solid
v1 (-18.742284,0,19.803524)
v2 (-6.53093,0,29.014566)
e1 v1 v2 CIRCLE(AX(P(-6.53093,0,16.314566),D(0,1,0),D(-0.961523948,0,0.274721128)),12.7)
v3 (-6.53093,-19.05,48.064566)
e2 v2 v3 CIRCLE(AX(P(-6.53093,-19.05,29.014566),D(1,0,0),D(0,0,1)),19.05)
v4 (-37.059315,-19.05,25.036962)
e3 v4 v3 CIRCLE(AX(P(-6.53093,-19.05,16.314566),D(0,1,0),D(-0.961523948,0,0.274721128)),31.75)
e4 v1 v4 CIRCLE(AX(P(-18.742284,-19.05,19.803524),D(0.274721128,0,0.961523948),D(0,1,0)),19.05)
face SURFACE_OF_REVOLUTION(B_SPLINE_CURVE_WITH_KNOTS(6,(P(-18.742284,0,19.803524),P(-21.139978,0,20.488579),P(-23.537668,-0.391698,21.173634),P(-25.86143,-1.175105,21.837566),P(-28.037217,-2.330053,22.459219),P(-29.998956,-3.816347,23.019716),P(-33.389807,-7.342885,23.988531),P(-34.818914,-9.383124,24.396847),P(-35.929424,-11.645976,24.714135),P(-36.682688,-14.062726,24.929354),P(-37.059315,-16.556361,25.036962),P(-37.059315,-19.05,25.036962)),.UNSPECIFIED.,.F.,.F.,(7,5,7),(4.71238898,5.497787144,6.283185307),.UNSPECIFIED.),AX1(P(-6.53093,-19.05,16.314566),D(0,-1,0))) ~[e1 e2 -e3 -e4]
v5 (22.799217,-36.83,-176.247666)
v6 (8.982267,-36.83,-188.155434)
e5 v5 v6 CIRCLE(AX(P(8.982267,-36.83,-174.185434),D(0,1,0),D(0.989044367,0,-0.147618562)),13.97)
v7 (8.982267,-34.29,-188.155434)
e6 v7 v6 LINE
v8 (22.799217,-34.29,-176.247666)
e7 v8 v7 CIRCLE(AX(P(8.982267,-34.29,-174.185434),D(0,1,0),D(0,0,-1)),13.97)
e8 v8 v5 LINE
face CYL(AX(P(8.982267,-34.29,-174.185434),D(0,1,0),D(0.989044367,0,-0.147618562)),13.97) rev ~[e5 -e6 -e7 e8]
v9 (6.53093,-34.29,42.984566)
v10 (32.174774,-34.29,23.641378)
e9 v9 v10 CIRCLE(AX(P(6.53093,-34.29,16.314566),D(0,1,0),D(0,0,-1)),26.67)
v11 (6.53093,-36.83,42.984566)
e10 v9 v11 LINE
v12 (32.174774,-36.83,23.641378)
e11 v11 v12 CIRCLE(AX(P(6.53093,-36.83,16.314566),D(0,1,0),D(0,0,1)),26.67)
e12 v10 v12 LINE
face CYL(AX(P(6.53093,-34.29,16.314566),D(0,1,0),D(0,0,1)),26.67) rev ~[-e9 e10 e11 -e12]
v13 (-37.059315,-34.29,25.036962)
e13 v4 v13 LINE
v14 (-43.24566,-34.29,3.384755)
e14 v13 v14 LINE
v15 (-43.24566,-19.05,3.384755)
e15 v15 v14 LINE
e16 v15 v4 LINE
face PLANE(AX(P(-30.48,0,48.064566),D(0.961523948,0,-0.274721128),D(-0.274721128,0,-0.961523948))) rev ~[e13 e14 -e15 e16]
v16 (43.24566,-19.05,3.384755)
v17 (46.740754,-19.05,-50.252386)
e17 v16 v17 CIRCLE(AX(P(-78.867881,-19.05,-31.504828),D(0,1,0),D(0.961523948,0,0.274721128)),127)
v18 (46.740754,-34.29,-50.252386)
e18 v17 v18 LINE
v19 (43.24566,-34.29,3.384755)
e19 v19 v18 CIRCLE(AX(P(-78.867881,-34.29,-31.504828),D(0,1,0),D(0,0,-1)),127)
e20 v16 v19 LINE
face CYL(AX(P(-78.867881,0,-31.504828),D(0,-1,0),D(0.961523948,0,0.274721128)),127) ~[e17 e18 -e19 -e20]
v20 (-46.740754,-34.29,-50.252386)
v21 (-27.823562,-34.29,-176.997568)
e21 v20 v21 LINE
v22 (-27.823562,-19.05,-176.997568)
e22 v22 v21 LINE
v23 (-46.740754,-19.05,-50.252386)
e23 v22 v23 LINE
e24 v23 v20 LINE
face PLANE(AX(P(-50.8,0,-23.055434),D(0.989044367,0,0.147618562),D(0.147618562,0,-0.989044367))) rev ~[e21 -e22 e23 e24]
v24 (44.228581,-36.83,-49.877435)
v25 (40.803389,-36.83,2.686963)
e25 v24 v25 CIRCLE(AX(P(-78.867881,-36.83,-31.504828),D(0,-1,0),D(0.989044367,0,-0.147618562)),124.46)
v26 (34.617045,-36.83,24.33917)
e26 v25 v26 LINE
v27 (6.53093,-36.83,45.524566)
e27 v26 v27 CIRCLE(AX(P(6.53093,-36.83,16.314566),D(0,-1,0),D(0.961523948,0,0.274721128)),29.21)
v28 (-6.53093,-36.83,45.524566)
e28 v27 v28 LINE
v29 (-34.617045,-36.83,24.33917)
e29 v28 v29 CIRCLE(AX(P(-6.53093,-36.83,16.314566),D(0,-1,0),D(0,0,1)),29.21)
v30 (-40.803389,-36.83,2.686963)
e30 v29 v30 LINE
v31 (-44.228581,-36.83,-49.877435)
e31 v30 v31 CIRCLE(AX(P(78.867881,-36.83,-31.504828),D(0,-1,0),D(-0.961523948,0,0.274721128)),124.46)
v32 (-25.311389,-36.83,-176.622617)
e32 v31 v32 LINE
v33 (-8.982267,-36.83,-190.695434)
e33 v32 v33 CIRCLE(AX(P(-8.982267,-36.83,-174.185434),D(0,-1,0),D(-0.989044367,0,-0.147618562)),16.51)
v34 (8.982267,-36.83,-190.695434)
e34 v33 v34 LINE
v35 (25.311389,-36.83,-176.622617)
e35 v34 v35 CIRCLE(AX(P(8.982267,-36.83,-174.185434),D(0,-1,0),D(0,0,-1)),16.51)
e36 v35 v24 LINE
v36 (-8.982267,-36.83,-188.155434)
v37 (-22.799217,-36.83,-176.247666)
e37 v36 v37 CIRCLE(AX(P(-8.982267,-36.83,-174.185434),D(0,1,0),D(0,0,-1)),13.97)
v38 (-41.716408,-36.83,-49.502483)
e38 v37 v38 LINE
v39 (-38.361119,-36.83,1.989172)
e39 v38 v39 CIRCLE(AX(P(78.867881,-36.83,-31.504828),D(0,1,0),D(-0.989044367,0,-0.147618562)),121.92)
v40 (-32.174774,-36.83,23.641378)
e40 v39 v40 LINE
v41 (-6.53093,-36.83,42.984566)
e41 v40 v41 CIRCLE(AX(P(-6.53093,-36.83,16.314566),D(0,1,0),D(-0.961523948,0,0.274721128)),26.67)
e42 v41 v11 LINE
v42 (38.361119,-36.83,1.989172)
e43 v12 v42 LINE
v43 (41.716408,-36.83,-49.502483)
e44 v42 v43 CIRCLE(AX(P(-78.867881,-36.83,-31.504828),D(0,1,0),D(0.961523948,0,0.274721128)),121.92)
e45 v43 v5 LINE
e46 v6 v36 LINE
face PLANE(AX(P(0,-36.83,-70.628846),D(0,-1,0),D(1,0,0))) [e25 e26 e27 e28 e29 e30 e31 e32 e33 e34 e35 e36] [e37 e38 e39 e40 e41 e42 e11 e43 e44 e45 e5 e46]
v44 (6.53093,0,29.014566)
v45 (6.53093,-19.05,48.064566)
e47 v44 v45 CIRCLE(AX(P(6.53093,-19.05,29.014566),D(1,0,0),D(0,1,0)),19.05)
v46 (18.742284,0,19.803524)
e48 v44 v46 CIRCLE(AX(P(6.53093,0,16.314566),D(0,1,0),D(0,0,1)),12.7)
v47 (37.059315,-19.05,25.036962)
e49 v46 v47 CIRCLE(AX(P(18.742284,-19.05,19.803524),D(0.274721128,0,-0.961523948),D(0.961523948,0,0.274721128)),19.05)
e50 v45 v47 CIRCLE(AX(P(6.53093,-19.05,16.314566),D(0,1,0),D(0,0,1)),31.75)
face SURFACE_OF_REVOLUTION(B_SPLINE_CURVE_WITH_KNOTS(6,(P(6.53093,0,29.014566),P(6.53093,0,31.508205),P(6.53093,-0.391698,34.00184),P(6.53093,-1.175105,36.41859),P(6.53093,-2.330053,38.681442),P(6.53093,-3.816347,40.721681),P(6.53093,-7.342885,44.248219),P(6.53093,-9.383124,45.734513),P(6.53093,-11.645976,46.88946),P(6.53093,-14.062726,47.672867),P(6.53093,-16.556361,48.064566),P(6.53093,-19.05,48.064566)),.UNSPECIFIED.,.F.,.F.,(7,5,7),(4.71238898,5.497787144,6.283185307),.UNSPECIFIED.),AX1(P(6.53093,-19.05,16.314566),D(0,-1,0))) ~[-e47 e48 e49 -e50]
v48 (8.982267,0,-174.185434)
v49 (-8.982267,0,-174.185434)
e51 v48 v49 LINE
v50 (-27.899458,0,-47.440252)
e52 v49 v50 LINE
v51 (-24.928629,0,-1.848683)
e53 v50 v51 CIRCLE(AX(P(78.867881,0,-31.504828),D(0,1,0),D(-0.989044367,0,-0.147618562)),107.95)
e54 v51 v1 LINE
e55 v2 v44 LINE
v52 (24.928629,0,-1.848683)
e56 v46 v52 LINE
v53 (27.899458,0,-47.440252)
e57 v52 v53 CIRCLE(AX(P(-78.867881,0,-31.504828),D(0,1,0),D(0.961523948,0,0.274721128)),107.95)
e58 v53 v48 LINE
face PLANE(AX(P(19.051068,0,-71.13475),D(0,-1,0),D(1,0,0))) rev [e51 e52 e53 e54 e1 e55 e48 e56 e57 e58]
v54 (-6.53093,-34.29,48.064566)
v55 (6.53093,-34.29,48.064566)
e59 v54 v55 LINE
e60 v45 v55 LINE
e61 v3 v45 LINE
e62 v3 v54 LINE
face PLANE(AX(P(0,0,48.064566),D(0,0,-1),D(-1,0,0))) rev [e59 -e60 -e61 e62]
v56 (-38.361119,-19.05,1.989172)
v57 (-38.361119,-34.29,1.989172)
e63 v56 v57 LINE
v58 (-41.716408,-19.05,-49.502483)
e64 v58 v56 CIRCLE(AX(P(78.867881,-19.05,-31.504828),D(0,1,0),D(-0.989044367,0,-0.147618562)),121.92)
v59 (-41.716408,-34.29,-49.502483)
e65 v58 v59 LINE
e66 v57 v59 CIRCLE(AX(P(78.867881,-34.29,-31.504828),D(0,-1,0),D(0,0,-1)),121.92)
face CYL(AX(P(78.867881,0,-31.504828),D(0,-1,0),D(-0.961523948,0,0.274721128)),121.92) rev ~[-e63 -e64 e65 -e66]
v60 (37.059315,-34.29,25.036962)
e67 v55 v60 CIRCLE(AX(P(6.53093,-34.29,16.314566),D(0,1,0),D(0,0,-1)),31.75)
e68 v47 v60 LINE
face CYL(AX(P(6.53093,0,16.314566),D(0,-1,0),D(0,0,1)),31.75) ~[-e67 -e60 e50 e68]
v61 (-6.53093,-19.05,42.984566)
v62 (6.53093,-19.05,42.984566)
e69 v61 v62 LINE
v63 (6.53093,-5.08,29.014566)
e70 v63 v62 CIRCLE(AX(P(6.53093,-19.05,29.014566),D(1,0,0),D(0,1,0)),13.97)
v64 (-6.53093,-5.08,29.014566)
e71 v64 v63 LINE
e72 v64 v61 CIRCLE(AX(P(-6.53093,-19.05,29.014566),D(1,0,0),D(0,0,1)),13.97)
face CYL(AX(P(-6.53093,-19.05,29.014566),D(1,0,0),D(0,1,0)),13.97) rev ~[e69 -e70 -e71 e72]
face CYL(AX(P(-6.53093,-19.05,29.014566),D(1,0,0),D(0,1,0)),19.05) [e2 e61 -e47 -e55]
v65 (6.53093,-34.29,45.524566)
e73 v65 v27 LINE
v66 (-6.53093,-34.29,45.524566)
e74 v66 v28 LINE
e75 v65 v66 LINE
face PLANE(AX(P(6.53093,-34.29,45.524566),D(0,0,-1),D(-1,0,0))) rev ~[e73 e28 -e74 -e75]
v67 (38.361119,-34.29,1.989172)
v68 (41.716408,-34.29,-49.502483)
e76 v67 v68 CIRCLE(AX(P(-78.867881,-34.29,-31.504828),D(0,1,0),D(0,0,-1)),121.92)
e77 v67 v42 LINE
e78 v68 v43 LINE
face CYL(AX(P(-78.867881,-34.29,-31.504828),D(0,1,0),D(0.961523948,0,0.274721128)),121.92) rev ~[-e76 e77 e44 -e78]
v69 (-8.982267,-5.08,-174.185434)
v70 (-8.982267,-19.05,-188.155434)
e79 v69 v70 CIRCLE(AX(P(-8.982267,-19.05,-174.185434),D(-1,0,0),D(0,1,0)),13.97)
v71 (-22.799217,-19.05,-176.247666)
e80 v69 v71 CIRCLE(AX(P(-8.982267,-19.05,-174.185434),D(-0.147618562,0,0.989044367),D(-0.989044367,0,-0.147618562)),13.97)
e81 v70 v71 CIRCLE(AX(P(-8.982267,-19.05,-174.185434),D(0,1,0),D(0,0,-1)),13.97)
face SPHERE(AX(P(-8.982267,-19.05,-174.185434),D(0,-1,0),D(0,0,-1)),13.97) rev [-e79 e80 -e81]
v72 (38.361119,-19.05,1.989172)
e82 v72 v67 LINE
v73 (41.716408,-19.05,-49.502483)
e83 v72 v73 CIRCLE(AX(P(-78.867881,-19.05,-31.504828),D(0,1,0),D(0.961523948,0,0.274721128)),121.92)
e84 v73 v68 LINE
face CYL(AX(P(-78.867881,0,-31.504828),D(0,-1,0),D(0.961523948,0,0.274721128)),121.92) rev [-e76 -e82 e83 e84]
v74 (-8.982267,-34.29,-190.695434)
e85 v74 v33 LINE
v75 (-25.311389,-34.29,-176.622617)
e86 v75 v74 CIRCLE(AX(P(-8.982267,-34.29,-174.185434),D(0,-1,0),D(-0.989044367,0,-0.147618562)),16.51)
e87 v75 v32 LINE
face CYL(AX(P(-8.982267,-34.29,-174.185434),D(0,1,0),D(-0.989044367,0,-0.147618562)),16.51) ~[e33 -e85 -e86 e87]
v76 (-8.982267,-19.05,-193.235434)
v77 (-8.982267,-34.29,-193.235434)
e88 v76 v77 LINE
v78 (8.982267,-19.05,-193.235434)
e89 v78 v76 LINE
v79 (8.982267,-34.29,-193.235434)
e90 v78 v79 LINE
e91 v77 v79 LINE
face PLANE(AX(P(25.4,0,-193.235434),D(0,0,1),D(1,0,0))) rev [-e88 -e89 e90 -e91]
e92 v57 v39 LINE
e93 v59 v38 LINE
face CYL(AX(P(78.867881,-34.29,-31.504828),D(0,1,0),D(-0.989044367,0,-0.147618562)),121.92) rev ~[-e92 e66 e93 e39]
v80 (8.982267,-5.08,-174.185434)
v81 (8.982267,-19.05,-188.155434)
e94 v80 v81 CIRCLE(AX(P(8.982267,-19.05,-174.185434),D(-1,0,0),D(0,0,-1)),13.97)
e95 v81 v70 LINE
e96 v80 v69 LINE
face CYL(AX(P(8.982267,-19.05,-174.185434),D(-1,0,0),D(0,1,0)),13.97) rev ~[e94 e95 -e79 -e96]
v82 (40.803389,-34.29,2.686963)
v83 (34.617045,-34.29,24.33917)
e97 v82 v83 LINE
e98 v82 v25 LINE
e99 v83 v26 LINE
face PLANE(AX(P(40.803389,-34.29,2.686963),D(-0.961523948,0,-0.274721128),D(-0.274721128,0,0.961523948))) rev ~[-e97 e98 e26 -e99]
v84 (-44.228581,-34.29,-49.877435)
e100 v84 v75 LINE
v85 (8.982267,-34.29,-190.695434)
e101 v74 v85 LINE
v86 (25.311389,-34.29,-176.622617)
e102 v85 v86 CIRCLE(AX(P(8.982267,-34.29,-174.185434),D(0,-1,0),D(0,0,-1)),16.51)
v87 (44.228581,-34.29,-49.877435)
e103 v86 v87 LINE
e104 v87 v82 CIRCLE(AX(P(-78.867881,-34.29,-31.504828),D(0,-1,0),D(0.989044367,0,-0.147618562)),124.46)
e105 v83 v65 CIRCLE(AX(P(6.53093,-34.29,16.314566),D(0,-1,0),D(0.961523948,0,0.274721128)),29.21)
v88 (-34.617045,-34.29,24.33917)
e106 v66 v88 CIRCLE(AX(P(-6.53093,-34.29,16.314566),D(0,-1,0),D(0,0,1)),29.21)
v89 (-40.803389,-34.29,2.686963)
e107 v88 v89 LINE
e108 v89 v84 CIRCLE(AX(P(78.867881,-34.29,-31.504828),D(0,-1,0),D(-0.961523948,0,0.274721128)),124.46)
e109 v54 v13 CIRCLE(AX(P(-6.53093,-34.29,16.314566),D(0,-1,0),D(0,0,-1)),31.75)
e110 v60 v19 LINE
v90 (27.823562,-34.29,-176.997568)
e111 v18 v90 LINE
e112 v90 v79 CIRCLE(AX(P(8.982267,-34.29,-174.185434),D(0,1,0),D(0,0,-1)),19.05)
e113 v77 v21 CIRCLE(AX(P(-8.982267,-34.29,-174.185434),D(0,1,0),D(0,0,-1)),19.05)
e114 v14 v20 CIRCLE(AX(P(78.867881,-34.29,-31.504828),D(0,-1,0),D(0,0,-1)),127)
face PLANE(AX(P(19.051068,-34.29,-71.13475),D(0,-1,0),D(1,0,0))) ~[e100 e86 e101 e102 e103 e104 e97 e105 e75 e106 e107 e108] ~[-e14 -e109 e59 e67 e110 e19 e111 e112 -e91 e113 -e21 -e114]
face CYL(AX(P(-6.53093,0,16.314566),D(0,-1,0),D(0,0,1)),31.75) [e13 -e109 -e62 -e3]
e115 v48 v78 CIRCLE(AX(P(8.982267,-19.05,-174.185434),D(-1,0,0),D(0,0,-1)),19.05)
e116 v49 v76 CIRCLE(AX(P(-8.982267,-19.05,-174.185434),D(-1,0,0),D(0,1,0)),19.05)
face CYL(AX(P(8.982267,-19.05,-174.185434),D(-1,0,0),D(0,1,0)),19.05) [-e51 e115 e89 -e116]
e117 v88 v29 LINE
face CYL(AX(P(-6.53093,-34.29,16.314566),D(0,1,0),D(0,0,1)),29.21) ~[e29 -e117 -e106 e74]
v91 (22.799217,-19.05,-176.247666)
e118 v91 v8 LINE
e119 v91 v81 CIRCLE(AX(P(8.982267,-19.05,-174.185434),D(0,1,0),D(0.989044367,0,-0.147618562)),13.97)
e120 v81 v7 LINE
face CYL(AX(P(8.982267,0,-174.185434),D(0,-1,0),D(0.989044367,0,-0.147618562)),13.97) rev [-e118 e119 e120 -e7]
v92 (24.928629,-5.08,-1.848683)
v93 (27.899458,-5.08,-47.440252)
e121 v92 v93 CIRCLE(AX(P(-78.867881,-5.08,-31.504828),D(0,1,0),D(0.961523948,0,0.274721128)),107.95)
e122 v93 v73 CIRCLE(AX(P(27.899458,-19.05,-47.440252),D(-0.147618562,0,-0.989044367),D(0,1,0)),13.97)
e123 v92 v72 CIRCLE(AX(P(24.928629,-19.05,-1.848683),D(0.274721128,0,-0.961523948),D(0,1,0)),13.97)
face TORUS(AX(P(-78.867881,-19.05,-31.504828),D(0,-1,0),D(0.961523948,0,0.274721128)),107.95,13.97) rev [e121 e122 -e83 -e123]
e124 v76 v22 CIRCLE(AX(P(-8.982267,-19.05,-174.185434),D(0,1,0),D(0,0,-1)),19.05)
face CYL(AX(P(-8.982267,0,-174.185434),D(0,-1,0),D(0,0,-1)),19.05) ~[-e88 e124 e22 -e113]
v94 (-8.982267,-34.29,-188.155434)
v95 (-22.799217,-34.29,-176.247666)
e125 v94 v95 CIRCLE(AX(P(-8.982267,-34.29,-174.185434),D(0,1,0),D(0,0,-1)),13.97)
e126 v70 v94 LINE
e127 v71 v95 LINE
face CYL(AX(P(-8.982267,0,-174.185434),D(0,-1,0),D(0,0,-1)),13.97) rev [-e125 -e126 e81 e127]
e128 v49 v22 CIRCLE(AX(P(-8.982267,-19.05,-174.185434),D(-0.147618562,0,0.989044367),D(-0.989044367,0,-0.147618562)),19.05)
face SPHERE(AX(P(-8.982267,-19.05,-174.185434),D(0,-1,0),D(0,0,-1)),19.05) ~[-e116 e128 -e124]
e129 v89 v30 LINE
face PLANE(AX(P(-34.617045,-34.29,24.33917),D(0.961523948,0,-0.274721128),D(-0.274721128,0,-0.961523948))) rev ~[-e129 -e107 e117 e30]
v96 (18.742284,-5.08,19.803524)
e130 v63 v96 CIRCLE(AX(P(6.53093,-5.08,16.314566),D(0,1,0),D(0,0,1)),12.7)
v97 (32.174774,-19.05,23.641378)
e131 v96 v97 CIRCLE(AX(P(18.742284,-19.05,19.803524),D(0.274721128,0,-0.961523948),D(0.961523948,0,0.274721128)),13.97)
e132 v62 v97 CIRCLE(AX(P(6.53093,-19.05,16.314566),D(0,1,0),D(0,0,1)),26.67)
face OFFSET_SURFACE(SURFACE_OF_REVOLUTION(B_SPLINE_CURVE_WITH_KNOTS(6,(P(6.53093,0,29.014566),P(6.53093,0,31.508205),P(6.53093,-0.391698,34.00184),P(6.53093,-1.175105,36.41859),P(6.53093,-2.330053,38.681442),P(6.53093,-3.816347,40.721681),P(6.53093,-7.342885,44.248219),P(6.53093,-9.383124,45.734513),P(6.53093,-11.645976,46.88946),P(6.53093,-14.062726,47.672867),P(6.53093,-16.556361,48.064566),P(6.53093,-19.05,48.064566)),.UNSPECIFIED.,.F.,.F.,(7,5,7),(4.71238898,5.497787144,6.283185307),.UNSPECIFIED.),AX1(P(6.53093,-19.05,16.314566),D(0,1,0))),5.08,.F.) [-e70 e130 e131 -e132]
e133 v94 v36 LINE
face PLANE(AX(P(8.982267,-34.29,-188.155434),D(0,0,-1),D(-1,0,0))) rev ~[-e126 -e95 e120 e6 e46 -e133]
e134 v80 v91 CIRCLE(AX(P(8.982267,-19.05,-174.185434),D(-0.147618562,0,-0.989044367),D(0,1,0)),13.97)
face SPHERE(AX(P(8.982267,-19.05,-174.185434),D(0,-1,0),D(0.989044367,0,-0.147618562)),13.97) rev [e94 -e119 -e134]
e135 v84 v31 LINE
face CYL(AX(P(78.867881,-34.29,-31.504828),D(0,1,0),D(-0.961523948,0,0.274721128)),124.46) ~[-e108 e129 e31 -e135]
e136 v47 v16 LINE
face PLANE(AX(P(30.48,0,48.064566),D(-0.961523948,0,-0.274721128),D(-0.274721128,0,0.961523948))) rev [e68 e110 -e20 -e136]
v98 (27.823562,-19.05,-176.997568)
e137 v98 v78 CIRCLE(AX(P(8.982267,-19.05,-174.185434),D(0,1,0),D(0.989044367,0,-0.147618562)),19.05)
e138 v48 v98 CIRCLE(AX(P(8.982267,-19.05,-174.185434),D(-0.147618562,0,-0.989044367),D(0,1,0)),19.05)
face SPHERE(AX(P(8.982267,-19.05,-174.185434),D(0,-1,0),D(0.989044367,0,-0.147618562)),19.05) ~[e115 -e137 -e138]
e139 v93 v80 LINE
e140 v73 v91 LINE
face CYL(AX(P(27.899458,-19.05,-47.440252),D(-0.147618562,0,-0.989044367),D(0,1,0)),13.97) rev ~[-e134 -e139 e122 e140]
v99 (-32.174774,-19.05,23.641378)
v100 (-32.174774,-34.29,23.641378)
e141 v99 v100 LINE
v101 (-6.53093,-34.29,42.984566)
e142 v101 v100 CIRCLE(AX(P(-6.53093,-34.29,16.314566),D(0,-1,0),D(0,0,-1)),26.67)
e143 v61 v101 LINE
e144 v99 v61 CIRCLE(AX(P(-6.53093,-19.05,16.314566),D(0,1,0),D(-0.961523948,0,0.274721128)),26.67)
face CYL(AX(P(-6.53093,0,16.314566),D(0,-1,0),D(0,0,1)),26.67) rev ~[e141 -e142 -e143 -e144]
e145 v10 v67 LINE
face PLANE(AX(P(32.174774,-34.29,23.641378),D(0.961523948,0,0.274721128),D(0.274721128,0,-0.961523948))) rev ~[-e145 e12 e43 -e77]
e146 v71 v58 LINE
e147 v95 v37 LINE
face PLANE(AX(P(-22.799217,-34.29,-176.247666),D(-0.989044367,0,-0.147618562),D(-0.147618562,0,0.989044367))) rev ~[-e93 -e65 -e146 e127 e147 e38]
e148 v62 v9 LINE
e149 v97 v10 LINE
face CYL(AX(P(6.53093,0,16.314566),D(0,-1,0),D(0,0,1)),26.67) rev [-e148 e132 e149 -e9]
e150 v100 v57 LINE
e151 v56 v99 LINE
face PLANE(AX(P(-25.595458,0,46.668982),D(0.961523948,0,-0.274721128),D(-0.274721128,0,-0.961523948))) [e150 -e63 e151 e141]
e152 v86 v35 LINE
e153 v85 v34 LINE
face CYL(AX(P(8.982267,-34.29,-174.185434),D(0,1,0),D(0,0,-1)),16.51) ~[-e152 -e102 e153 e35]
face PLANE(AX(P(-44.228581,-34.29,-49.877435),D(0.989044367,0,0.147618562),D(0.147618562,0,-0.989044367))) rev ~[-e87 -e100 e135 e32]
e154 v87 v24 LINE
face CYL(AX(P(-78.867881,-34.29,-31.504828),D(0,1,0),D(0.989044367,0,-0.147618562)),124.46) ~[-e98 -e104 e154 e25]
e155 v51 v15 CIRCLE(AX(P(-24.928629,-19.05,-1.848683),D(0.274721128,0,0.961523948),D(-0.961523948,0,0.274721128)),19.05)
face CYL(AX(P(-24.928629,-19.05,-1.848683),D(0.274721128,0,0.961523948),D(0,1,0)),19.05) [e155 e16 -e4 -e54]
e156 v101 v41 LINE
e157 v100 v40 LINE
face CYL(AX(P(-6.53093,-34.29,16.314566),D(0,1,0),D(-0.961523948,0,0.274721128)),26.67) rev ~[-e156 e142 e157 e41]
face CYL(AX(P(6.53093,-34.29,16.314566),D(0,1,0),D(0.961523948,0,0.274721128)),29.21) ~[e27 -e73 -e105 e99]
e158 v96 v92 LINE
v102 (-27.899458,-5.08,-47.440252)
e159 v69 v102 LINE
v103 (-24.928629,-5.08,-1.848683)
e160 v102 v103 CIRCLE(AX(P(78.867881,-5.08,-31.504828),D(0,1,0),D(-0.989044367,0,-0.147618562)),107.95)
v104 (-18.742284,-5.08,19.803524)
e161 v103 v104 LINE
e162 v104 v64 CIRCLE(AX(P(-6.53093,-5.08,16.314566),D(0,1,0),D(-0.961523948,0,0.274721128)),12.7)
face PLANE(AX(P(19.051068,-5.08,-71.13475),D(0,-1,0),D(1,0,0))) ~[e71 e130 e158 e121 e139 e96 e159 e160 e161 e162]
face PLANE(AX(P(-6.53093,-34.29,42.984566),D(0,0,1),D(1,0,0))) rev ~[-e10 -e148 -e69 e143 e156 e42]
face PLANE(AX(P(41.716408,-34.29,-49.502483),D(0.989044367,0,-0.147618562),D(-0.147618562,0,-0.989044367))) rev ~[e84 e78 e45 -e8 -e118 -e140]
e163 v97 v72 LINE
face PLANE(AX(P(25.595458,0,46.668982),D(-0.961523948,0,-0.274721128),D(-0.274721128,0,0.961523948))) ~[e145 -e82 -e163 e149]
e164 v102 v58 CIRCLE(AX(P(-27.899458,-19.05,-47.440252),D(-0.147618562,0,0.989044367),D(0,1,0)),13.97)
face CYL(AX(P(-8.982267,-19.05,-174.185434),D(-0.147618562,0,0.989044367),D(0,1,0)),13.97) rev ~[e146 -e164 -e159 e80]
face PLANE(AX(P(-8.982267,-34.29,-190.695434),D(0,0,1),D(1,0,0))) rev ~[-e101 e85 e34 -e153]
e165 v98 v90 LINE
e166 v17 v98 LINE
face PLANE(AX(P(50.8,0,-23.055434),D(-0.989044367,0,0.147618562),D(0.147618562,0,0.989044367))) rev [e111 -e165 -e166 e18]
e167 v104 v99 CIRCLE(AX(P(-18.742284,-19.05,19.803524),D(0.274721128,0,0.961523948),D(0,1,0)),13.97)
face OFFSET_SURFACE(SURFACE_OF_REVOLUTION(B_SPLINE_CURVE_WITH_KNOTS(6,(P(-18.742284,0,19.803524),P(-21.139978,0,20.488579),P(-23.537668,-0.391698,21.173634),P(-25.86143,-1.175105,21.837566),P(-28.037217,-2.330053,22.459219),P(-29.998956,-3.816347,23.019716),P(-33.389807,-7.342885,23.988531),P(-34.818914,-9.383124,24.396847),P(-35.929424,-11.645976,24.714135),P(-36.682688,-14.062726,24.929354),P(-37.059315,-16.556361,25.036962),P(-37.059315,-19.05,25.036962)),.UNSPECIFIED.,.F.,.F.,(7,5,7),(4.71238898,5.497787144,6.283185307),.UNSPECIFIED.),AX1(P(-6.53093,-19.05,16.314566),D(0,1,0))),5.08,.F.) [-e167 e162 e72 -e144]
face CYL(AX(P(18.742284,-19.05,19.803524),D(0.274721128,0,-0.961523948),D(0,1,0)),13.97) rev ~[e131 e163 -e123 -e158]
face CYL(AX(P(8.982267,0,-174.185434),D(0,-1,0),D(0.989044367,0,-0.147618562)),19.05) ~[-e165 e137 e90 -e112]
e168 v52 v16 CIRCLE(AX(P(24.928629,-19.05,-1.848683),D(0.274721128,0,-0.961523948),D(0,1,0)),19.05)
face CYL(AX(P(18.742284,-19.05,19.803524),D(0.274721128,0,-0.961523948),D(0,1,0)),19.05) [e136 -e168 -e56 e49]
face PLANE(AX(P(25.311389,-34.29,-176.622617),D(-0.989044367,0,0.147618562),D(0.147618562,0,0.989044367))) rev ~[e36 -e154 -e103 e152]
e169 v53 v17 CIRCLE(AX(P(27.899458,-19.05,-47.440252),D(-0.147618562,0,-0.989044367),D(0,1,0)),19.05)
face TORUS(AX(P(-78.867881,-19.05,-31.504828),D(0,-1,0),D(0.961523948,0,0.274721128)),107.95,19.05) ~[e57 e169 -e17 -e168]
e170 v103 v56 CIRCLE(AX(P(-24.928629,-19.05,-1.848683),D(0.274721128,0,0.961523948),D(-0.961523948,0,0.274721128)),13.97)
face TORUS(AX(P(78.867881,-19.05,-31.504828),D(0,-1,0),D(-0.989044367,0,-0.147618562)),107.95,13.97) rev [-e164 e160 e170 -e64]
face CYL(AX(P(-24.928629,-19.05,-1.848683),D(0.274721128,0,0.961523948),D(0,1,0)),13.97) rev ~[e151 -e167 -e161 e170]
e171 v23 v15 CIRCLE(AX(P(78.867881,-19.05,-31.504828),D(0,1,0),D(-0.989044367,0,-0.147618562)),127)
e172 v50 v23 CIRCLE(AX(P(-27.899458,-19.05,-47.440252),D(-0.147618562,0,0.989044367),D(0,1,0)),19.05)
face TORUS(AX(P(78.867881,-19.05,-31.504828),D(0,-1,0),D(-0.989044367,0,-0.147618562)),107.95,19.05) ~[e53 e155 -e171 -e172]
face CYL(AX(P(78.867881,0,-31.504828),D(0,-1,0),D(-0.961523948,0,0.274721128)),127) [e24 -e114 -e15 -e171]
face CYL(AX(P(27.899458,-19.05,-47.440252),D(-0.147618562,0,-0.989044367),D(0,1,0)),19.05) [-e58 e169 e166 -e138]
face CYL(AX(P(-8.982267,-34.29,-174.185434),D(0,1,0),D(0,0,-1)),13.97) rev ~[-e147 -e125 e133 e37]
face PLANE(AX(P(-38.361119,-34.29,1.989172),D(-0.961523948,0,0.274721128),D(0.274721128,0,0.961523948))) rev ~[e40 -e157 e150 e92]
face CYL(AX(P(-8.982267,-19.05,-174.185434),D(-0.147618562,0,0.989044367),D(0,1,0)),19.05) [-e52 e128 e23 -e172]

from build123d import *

# Parameters (mm, degrees)
F1_DEPTH = 34.29
F3_R     = 31.75
F4_R     = 127
F5_R     = 19.05
F6_R     = 19.05
F7_T     = -5.08
F9_DEPTH = 2.54


with BuildPart() as f1:
    # F0 (on Front) → F1 (new body)
    with BuildSketch(Plane.XZ):
        Polygon((0, -193.235434227), (0, 48.064565773), (-30.48, 48.064565773), (-50.8, -23.055434227), (-25.4, -193.235434227), align=None)
    extrude(amount=F1_DEPTH)

    # F2: F1 across face


with BuildPart() as f1_1:
    add(f1.part)
    add(f1.part.mirror(Plane(origin=(0, -17.145, -72.585434227), x_dir=(0, 1, 0), z_dir=(1, 0, 0))))

    # F3
    f3_edges = [f1_1.edges().sort_by_distance(p)[0] for p in [
        (-30.48, -17.145, 48.064566),
        (30.48, -17.145, 48.064566),
    ]]
    fillet(f3_edges, radius=F3_R)

    # F4
    f4_edges = [f1_1.edges().sort_by_distance(p)[0] for p in [
        (-50.8, -17.145, -23.055434),
        (50.8, -17.145, -23.055434),
    ]]
    fillet(f4_edges, radius=F4_R)

    # F5
    f5_edges = [f1_1.edges().sort_by_distance(p)[0] for p in [
        (-25.4, -17.145, -193.235434),
        (25.4, -17.145, -193.235434),
    ]]
    fillet(f5_edges, radius=F5_R)

    # F6
    f6_edges = [f1_1.edges().sort_by_distance(p)[0] for p in [
        (37.282158, 0, -113.624977),
    ]]
    fillet(f6_edges, radius=F6_R)

    # F7
    f7_openings = [f1_1.faces().sort_by_distance(p)[0] for p in [
        (0, -34.29, -66.112083),
    ]]
    offset(amount=F7_T, openings=f7_openings)

    # F8 (on face) → F9 (join)
    with BuildSketch(Plane.XZ.offset(34.29)):
        with BuildLine():
            Line((6.530930145, 45.524565773), (-6.530930145, 45.524565773))
            ThreePointArc((-6.530930145, 45.524565773), (-24.121061084, 39.6343297845), (-34.6170446556, 24.3391699189))
            Line((-34.6170446556, 24.3391699189), (-40.8033894121, 2.6869632712))
            ThreePointArc((-40.8033894121, 2.6869632712), (-45.3287249612, -23.411952422), (-44.2285808171, -49.8774345649))
            Line((-44.2285808171, -49.8774345649), (-25.3113894552, -176.6226166898))
            ThreePointArc((-25.3113894552, -176.6226166898), (-19.7605371668, -186.6917922592), (-8.9822669545, -190.695434227))
            Line((-8.9822669545, -190.695434227), (8.9822669545, -190.695434227))
            ThreePointArc((8.9822669545, -190.695434227), (19.7605371668, -186.6917922592), (25.3113894552, -176.6226166898))
            Line((25.3113894552, -176.6226166898), (44.2285808171, -49.8774345649))
            ThreePointArc((44.2285808171, -49.8774345649), (45.3287249612, -23.411952422), (40.8033894121, 2.6869632712))
            Line((40.8033894121, 2.6869632712), (34.6170446556, 24.3391699189))
            ThreePointArc((34.6170446556, 24.3391699189), (24.121061084, 39.6343297845), (6.530930145, 45.524565773))
        make_face()
        with BuildLine():
            ThreePointArc((-32.1747738286, 23.641378254), (-22.5914844806, 37.6065242183), (-6.530930145, 42.984565773))
            Line((-6.530930145, 42.984565773), (6.530930145, 42.984565773))
            ThreePointArc((6.530930145, 42.984565773), (22.5914844806, 37.6065242183), (32.1747738286, 23.641378254))
            Line((32.1747738286, 23.641378254), (38.3611185851, 1.9891716064))
            ThreePointArc((38.3611185851, 1.9891716064), (42.7941003475, -23.5771131543), (41.7164081247, -49.5024834167))
            Line((41.7164081247, -49.5024834167), (22.7992167628, -176.2476655417))
            ThreePointArc((22.7992167628, -176.2476655417), (18.1023417495, -184.7677371773), (8.9822669545, -188.155434227))
            Line((8.9822669545, -188.155434227), (-8.9822669545, -188.155434227))
            ThreePointArc((-8.9822669545, -188.155434227), (-18.1023417495, -184.7677371773), (-22.7992167628, -176.2476655417))
            Line((-22.7992167628, -176.2476655417), (-41.7164081247, -49.5024834167))
            ThreePointArc((-41.7164081247, -49.5024834167), (-42.7941003475, -23.5771131543), (-38.3611185851, 1.9891716064))
            Line((-38.3611185851, 1.9891716064), (-32.1747738286, 23.641378254))
        make_face(mode=Mode.SUBTRACT)
    extrude(amount=F9_DEPTH)


solid = f1_1.part
